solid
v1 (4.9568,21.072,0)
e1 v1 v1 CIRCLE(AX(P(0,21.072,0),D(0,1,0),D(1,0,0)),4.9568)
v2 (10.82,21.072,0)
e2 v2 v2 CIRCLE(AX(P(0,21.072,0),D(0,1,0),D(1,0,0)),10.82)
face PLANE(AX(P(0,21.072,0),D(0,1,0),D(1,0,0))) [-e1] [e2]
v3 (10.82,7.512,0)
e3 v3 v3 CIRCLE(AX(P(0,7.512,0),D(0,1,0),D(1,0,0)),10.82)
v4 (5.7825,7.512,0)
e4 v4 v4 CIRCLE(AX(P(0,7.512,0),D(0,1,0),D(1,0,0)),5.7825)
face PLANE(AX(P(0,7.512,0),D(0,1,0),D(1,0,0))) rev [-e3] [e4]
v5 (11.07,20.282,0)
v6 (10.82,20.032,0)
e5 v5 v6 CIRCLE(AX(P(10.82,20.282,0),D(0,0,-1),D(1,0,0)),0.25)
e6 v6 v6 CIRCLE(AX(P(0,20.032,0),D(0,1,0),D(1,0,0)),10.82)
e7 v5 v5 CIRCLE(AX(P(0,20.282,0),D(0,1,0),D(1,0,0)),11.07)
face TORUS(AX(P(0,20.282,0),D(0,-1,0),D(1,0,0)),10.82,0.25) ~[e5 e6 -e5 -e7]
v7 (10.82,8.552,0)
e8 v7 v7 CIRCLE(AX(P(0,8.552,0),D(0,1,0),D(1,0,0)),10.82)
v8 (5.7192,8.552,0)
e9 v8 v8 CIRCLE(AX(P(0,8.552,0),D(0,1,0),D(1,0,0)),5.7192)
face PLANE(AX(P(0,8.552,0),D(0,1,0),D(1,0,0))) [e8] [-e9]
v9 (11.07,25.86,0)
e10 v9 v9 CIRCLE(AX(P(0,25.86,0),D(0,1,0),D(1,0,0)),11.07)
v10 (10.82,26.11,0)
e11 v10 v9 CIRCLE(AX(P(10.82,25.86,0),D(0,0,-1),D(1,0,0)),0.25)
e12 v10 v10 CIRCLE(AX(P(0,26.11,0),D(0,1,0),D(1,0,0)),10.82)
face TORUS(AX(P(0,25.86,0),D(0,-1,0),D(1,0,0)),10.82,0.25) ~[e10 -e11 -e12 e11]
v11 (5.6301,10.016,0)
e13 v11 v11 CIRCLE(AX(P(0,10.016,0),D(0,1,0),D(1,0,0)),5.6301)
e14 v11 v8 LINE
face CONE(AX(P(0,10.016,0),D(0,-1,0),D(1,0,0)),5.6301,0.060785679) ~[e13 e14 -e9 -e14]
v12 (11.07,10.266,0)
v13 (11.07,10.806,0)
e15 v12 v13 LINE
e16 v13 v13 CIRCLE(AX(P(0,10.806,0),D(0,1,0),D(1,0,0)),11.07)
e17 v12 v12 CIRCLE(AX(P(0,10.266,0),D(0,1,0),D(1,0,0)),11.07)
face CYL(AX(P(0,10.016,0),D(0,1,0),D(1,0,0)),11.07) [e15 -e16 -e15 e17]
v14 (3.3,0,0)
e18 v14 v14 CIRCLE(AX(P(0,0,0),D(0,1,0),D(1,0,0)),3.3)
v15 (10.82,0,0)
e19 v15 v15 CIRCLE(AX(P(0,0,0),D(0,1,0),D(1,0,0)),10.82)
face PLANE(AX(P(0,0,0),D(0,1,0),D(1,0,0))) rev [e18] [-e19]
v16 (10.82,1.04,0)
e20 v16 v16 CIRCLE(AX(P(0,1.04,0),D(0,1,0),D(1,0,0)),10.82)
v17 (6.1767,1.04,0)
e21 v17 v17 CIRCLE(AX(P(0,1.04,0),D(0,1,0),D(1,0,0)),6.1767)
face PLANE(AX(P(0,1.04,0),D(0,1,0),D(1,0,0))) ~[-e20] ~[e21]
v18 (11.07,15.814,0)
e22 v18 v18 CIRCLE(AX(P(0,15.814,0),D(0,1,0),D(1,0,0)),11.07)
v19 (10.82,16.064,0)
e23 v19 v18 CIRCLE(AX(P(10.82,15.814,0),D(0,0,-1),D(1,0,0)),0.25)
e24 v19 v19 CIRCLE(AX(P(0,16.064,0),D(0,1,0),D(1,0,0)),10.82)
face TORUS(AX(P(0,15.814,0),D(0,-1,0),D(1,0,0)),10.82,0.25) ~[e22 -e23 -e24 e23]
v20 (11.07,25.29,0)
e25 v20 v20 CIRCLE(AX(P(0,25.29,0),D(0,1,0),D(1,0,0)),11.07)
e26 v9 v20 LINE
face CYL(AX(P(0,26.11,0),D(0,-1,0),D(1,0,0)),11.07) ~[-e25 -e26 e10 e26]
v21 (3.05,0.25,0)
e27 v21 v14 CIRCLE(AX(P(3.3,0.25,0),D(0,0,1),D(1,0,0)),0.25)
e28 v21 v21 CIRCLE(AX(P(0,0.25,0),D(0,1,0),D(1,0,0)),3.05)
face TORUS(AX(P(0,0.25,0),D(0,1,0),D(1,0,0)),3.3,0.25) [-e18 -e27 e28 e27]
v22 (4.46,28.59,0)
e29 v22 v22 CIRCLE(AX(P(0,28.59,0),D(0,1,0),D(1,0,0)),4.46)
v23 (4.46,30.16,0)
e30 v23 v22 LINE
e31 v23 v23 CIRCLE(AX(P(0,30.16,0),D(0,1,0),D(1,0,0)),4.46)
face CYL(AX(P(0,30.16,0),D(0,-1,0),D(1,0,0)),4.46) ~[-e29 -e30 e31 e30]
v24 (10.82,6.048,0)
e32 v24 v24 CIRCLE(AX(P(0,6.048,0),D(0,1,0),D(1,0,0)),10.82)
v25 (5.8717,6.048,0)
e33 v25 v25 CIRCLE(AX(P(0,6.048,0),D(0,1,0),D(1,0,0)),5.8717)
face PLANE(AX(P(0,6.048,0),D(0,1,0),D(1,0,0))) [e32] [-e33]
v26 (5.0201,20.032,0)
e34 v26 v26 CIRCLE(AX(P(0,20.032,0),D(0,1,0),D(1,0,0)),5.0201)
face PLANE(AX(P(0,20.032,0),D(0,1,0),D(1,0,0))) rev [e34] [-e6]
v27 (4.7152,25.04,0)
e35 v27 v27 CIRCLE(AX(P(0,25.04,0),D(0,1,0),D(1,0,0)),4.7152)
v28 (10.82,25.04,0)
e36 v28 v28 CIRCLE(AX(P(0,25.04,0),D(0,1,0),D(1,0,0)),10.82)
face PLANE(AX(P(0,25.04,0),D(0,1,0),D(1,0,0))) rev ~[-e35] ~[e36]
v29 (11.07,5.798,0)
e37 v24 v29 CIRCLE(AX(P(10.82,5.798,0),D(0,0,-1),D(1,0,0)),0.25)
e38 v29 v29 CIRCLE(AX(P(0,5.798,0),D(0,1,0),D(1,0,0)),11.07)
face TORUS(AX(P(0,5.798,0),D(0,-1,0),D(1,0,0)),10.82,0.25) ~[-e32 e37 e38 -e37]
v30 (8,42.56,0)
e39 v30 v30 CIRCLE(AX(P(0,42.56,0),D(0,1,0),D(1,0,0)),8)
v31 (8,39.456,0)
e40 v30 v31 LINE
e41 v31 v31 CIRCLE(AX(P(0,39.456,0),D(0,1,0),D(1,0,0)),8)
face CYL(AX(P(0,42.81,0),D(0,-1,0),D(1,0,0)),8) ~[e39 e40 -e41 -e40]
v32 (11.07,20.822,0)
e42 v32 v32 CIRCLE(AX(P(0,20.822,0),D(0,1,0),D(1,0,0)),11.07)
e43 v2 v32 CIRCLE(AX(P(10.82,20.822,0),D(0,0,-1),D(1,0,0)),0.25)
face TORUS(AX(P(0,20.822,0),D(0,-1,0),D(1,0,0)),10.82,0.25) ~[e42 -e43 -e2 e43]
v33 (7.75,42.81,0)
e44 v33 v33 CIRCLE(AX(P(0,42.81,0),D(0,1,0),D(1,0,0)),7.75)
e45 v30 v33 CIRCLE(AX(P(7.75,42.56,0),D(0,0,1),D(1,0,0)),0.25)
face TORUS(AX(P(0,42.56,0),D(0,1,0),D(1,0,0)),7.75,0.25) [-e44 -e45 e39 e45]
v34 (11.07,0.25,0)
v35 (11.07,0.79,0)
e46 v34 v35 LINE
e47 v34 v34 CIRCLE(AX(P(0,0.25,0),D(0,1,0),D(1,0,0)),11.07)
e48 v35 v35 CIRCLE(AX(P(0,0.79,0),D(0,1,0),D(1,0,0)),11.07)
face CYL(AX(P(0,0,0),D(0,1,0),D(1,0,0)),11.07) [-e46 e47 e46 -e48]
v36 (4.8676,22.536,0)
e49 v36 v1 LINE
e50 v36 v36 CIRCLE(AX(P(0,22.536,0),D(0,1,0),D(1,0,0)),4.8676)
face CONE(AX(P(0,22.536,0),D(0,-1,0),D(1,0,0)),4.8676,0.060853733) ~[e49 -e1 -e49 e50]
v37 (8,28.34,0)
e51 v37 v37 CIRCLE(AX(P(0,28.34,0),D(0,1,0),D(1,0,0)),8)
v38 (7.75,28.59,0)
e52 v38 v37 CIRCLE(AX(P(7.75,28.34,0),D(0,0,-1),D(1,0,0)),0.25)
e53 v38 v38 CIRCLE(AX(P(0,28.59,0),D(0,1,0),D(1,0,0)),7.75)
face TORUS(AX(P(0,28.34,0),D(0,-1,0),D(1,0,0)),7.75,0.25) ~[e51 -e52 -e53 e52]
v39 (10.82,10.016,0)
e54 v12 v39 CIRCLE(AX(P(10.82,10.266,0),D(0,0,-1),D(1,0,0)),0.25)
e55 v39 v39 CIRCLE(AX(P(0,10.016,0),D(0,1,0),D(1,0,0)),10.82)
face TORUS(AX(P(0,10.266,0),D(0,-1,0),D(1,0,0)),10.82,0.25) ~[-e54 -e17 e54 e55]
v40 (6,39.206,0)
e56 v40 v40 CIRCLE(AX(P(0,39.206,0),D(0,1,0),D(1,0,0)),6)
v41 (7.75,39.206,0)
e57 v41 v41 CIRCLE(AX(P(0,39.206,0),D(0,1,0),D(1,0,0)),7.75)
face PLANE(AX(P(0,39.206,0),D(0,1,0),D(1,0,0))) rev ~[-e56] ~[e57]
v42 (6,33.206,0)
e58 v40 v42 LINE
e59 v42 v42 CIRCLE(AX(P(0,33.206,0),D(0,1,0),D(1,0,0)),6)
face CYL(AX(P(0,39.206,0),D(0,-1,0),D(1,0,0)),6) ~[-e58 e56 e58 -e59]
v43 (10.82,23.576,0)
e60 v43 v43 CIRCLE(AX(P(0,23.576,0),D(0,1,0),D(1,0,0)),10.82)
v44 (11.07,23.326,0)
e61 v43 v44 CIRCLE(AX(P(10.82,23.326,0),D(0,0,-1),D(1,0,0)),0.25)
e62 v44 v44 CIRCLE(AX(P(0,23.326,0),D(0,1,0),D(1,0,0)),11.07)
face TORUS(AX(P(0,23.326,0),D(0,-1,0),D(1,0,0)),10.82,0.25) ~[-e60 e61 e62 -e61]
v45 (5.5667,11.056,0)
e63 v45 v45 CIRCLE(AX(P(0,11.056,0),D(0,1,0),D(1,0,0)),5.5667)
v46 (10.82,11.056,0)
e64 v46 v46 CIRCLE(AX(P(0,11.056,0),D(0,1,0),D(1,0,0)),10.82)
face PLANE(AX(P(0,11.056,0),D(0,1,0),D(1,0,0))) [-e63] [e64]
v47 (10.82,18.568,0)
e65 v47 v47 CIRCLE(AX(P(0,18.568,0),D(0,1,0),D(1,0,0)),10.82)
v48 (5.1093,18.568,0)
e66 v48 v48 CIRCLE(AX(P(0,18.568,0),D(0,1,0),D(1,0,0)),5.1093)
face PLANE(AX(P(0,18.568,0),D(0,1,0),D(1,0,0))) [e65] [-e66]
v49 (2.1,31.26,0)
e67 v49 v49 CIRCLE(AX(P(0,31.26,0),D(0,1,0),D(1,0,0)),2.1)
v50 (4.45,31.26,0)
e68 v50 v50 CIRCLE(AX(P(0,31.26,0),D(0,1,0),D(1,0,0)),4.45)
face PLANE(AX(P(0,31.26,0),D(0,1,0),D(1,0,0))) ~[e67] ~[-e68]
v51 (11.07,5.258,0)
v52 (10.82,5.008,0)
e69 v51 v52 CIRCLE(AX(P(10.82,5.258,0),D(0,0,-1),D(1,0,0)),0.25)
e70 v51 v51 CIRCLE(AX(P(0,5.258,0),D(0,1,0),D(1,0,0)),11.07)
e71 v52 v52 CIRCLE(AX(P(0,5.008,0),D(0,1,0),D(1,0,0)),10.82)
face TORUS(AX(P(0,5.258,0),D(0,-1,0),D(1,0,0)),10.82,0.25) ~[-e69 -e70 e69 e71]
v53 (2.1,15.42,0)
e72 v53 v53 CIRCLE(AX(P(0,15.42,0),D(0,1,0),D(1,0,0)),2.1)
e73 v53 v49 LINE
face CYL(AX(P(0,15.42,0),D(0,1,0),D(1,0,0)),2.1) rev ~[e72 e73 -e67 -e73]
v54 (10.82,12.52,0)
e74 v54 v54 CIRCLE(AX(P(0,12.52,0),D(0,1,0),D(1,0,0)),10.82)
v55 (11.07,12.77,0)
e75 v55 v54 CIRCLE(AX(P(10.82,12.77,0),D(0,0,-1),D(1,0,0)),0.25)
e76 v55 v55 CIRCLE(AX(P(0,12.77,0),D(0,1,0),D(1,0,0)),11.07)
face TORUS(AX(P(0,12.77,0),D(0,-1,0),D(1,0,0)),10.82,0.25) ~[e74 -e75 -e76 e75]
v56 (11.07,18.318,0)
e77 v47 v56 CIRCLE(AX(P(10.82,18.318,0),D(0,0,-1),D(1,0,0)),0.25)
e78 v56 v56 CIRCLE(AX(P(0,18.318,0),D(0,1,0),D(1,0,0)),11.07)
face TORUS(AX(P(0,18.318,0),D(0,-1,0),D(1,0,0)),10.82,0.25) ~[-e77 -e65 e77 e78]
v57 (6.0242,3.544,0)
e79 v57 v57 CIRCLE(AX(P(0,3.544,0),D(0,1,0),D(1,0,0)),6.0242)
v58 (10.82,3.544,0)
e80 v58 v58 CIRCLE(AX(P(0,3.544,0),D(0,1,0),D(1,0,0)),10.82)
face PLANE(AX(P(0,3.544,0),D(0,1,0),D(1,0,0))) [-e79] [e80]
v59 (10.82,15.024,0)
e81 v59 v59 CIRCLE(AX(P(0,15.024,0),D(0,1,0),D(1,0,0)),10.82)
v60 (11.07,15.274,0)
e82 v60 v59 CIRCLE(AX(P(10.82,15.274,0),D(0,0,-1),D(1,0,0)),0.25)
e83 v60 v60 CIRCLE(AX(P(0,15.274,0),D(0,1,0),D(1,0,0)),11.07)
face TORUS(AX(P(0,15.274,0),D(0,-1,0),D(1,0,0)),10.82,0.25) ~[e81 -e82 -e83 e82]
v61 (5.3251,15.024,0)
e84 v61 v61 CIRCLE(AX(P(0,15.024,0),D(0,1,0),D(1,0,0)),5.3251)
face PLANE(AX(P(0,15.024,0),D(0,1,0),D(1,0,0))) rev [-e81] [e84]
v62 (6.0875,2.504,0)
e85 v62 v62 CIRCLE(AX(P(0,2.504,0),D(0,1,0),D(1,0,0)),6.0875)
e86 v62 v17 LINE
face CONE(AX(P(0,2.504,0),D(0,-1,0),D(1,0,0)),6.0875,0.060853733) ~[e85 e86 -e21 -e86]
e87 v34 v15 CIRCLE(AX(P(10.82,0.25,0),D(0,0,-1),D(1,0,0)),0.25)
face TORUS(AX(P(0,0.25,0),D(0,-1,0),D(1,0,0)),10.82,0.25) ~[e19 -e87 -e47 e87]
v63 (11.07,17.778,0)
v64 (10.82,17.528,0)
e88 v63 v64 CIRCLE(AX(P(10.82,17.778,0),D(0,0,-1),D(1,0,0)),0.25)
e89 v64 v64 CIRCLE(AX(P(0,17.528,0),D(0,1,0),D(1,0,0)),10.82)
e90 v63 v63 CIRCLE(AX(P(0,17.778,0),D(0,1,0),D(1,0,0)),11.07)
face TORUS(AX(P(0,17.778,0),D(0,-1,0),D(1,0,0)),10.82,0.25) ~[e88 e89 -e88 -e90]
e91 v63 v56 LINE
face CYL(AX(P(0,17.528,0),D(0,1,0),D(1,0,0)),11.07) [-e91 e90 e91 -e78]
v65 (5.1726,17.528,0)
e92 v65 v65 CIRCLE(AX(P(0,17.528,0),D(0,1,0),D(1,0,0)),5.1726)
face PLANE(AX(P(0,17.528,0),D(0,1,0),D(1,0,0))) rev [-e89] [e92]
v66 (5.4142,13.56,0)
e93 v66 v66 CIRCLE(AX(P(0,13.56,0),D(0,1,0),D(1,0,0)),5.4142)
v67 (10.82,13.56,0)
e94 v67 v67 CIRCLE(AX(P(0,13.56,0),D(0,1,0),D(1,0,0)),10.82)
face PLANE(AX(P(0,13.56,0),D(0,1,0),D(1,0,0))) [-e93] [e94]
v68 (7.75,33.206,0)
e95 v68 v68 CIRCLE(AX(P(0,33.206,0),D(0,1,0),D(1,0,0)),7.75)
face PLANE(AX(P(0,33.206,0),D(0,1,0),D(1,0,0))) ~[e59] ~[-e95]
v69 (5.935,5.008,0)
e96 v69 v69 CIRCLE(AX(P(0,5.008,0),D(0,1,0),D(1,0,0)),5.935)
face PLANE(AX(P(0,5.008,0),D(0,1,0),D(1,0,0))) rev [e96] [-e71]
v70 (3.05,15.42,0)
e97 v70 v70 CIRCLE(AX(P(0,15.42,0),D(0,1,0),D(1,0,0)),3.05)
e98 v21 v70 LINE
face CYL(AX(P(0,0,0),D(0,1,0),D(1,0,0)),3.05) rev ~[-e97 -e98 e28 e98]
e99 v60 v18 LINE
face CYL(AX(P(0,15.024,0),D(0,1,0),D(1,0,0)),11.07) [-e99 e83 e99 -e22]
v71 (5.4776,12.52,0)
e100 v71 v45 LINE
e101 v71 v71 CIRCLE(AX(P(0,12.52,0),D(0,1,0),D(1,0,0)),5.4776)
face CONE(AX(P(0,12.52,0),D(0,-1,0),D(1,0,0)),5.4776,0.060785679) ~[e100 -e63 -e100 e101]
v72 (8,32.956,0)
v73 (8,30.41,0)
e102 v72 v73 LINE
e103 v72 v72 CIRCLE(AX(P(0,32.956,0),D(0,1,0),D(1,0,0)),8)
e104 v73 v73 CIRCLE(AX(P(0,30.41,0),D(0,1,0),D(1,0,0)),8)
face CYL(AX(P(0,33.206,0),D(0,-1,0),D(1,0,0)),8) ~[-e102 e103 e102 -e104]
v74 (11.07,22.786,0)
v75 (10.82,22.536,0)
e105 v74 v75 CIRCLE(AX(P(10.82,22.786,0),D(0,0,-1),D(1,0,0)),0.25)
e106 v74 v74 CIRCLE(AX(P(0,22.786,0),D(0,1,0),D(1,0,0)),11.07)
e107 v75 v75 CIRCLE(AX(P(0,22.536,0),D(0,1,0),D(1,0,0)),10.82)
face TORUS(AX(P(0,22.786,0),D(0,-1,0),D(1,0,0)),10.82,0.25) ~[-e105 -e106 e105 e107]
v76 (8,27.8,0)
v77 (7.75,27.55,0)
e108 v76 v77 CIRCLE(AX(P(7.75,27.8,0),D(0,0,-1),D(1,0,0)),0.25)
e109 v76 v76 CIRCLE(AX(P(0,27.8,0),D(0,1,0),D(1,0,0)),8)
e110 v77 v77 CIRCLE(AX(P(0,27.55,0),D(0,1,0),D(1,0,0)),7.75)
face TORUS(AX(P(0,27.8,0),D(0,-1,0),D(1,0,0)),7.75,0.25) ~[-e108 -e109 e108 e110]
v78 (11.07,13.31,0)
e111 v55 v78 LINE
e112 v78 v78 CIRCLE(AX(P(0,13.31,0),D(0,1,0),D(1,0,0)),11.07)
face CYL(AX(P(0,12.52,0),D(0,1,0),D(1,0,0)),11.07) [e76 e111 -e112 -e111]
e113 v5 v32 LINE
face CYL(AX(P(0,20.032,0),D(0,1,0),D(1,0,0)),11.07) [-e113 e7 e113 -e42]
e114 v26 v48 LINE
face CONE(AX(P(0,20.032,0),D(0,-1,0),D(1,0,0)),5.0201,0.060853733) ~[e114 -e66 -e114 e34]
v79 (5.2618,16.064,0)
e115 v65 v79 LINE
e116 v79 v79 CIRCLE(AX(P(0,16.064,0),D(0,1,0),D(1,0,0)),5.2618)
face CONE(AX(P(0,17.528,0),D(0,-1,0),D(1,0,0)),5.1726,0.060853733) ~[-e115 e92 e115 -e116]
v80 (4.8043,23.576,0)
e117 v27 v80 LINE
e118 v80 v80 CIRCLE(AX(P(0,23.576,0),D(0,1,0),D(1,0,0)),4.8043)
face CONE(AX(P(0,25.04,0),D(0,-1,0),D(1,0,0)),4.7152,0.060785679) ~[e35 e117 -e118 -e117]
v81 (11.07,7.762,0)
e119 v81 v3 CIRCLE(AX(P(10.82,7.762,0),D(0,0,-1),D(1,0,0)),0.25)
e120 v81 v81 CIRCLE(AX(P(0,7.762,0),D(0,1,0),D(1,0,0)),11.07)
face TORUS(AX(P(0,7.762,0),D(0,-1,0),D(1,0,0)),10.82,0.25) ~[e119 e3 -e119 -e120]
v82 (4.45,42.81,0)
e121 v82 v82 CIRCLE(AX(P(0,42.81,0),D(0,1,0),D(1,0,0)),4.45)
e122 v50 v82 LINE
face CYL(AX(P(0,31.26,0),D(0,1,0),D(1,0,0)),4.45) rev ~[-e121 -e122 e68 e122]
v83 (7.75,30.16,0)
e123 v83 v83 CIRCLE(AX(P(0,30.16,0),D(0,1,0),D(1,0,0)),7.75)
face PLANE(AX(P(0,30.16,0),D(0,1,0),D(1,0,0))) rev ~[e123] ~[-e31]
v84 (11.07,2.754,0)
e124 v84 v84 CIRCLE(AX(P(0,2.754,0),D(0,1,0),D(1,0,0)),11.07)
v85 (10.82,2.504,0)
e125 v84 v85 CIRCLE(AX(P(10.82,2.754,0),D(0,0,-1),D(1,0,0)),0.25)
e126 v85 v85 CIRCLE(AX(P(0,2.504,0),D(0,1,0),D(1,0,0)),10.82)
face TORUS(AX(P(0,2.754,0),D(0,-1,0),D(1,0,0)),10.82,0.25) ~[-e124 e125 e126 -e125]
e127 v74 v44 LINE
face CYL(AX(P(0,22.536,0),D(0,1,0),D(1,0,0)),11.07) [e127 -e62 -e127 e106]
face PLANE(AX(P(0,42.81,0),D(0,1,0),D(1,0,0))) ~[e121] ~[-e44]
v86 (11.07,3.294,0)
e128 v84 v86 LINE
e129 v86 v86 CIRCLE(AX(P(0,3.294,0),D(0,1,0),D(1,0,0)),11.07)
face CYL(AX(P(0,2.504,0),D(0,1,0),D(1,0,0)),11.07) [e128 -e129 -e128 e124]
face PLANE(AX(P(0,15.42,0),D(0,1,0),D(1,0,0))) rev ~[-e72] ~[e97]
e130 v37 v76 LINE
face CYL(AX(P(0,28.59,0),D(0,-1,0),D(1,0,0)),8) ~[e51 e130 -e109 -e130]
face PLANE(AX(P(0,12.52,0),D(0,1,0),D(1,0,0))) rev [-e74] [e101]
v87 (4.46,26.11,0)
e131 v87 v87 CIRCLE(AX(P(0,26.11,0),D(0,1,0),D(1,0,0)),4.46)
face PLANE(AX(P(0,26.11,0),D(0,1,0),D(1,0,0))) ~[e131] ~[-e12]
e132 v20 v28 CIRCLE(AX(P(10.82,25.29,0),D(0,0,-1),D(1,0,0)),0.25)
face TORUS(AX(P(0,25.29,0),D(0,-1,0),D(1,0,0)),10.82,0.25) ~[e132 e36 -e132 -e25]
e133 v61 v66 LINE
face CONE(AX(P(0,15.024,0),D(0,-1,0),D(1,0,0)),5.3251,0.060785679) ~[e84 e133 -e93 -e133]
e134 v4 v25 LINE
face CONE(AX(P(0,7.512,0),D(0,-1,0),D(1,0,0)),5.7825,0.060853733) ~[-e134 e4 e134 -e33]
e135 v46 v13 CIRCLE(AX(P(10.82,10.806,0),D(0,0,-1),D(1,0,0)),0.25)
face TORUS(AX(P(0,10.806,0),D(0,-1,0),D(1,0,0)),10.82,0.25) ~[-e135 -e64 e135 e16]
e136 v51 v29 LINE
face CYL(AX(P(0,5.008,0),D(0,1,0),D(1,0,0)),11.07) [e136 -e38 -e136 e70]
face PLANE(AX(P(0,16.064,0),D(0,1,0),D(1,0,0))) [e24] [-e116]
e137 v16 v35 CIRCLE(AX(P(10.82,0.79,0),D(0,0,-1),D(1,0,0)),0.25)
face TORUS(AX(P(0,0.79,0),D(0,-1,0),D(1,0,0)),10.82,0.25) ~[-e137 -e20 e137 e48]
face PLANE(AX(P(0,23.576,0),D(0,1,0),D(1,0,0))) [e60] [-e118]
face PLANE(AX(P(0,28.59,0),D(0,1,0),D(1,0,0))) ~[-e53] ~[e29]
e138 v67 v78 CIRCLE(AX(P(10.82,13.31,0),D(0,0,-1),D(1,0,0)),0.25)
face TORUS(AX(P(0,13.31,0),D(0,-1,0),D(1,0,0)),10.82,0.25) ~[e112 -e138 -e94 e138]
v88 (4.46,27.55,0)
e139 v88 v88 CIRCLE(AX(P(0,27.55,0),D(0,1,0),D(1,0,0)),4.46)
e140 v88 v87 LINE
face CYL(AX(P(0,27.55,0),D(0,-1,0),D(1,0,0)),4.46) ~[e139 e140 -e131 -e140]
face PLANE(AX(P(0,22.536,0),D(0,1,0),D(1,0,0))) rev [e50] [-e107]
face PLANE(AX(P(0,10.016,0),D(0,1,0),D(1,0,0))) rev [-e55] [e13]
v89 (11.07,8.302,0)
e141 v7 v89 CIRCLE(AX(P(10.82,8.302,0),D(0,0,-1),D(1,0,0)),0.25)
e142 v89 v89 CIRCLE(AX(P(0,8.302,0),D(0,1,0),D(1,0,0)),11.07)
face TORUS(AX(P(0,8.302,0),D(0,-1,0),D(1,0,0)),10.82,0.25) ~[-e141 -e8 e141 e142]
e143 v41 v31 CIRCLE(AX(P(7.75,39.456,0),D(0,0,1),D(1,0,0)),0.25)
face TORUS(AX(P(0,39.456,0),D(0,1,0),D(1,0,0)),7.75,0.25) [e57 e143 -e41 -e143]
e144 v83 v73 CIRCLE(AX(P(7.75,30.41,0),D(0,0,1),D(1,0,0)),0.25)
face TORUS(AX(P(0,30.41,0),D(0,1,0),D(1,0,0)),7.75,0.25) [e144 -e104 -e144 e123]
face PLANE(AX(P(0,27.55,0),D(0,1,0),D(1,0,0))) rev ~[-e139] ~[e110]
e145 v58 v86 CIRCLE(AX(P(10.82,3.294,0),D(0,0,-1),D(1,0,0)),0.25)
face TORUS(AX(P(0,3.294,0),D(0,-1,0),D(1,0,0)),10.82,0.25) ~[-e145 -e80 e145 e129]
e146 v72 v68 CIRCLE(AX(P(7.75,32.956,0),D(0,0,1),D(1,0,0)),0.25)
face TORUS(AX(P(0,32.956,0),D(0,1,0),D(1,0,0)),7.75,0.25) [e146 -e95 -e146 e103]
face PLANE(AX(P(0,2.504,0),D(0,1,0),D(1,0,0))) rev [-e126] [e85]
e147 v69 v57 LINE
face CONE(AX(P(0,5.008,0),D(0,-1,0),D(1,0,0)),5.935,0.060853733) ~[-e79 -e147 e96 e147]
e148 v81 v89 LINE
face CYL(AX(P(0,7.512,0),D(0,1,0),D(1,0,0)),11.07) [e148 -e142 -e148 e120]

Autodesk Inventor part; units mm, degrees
ref_plane "YZ Plane" through (0, 0, 0) normal (1, 0, 0) x (0, 1, 0)
ref_plane "XZ Plane" through (0, 0, 0) normal (0, 1, 0) x (-1, 0, 0)
ref_plane "XY Plane" through (0, 0, 0) normal (0, 0, 1) x (1, 0, 0)
sketch "Sketch1" plane through (0, 0, 0) normal (0, 0, 1) x (1, 0, 0)
  line L0 (0, 0) -> (11.07, 0) construction
  line L1 (11.07, 0) -> (11.07, 26.11) construction
  line L2 (11.07, 26.11) -> (0, 26.11) construction
  line L3 (0, 26.11) -> (0, 0) construction
  line L4 (0, 26.11) -> (8, 26.11) construction
  line L5 (8, 26.11) -> (8, 42.81) construction
  line L6 (8, 42.81) -> (0, 42.81) construction
  line L7 (0, 42.81) -> (0, 26.11) construction
  line L8 (8, 42.81) -> (0, 42.81) construction
  line L9 (0, 42.81) -> (0, 30.16) construction
  line L10 (0, 30.16) -> (8, 30.16) construction
  line L11 (8, 30.16) -> (8, 42.81) construction
  line L12 (0, 42.81) -> (8, 42.81) construction
  line L13 (8, 42.81) -> (8, 39.206) construction
  line L14 (8, 39.206) -> (0, 39.206) construction
  line L15 (0, 39.206) -> (0, 42.81) construction
  line L16 (0, 39.206) -> (8, 39.206) construction
  line L17 (8, 39.206) -> (8, 33.206) construction
  line L18 (8, 33.206) -> (0, 33.206) construction
  line L19 (0, 33.206) -> (0, 39.206) construction
  line L20 (0, 39.206) -> (6, 39.206) construction
  line L21 (6, 39.206) -> (6, 33.206) construction
  line L22 (6, 33.206) -> (0, 33.206) construction
  line L23 (0, 33.206) -> (0, 39.206) construction
  line L24 (0, 30.16) -> (8, 30.16) construction
  line L25 (8, 30.16) -> (8, 28.59) construction
  line L26 (8, 28.59) -> (0, 28.59) construction
  line L27 (0, 28.59) -> (0, 30.16) construction
  line L28 (0, 28.59) -> (8, 28.59) construction
  line L29 (8, 28.59) -> (8, 27.55) construction
  line L30 (8, 27.55) -> (0, 27.55) construction
  line L31 (0, 27.55) -> (0, 28.59) construction
  line L32 (0, 42.81) -> (4.45, 42.81) construction
  line L33 (4.45, 42.81) -> (4.45, 31.26) construction
  line L34 (4.45, 31.26) -> (0, 31.26) construction
  line L35 (0, 31.26) -> (0, 42.81) construction
  line L36 (0, 0) -> (6.1, 0) construction
  line L37 (6.1, 0) -> (6.1, 15.42) construction
  line L38 (6.1, 15.42) -> (0, 15.42) construction
  line L39 (0, 15.42) -> (0, 0) construction
  line L40 (0, 31.26) -> (2.1, 31.26) construction
  line L41 (2.1, 31.26) -> (2.1, 15.42) construction
  line L42 (2.1, 15.42) -> (0, 15.42) construction
  line L43 (0, 15.42) -> (0, 31.26) construction
  line L44 (0, 15.42) -> (3.05, 15.42) construction
  line L45 (3.05, 15.42) -> (3.05, 0) construction
  line L46 (3.05, 0) -> (0, 0) construction
  line L47 (0, 0) -> (0, 15.42) construction
  line L48 (3.05, 0) -> (3.05, 15.42)
  line L49 (3.05, 15.42) -> (2.1, 15.42)
  line L50 (2.1, 15.42) -> (2.1, 31.26)
  line L51 (2.1, 31.26) -> (4.45, 31.26)
  line L52 (4.45, 31.26) -> (4.45, 42.81)
  line L53 (4.45, 42.81) -> (8, 42.81)
  line L54 (8, 42.81) -> (8, 39.206)
  line L55 (8, 39.206) -> (6, 39.206)
  line L56 (6, 39.206) -> (6, 33.206)
  line L57 (6, 33.206) -> (8, 33.206)
  line L58 (8, 33.206) -> (8, 30.16)
  line L59 (8, 30.16) -> (4.46, 30.16) construction
  line L60 (4.46, 30.16) -> (4.46, 26.11) construction
  line L61 (4.46, 26.11) -> (8, 26.11) construction
  line L62 (8, 26.11) -> (8, 30.16) construction
  line L63 (8, 30.16) -> (4.46, 30.16) construction
  line L64 (8, 30.16) -> (4.46, 30.16)
  line L65 (4.46, 30.16) -> (4.46, 28.59)
  line L66 (4.46, 28.59) -> (8, 28.59)
  line L67 (8, 28.59) -> (8, 27.55)
  line L68 (8, 27.55) -> (4.46, 27.55)
  line L69 (4.46, 27.55) -> (4.46, 26.11)
  line L70 (4.46, 26.11) -> (11.07, 26.11)
  line L71 (3.05, 0) -> (11.07, 0)
  line L72 (11.07, 26.11) -> (4.65, 26.11) construction
  line L73 (11.07, 0) -> (6.24, 0) construction
  line L74 (6.24, 0) -> (4.65, 26.11) construction
  line L75 (11.07, 26.11) -> (2.1, 26.11) construction
  line L76 (2.1, 26.11) -> (2.1, 25.04) construction
  line L77 (2.1, 25.04) -> (11.07, 25.04) construction
  line L78 (11.07, 25.04) -> (11.07, 26.11) construction
  line L79 (3.05, 0) -> (11.07, 0) construction
  line L80 (11.07, 0) -> (11.07, 2.504) construction
  line L81 (11.07, 2.504) -> (3.05, 2.504) construction
  line L82 (3.05, 2.504) -> (3.05, 0) construction
  line L83 (11.07, 0) -> (3.05, 0) construction
  line L84 (3.05, 0) -> (3.05, 1.04) construction
  line L85 (3.05, 1.04) -> (11.07, 1.04) construction
  line L86 (11.07, 1.04) -> (11.07, 0) construction
  line L87 (11.07, 0) -> (11.07, 1.04)
  line L88 (11.07, 2.504) -> (11.07, 3.544)
  line L89 (11.07, 5.008) -> (11.07, 6.048)
  line L90 (11.07, 7.512) -> (11.07, 8.552)
  line L91 (11.07, 10.016) -> (11.07, 11.056)
  line L92 (11.07, 12.52) -> (11.07, 13.56)
  line L93 (11.07, 15.024) -> (11.07, 16.064)
  line L94 (11.07, 17.528) -> (11.07, 18.568)
  line L95 (11.07, 20.032) -> (11.07, 21.072)
  line L96 (11.07, 22.536) -> (11.07, 23.576)
  line L97 (11.07, 26.11) -> (11.07, 25.04)
  line L98 (11.07, 25.04) -> (4.7152, 25.04)
  line L99 (4.7152, 25.04) -> (4.8043, 23.576)
  line L100 (4.8676, 22.536) -> (4.9568, 21.072)
  line L101 (5.0201, 20.032) -> (5.1093, 18.568)
  line L102 (5.1726, 17.528) -> (5.2618, 16.064)
  line L103 (5.3251, 15.024) -> (5.4142, 13.56)
  line L104 (5.4776, 12.52) -> (5.5667, 11.056)
  line L105 (5.6301, 10.016) -> (5.7192, 8.552)
  line L106 (5.7825, 7.512) -> (5.8717, 6.048)
  line L107 (5.935, 5.008) -> (6.0242, 3.544)
  line L108 (6.0875, 2.504) -> (6.1767, 1.04)
  line L109 (6.1767, 1.04) -> (11.07, 1.04)
  line L110 (6.0875, 2.504) -> (11.07, 2.504)
  line L111 (11.07, 3.544) -> (6.0242, 3.544)
  line L112 (5.935, 5.008) -> (11.07, 5.008)
  line L113 (11.07, 6.048) -> (5.8717, 6.048)
  line L114 (5.7825, 7.512) -> (11.07, 7.512)
  line L115 (11.07, 8.552) -> (5.7192, 8.552)
  line L116 (5.6301, 10.016) -> (11.07, 10.016)
  line L117 (11.07, 11.056) -> (5.5667, 11.056)
  line L118 (5.4776, 12.52) -> (11.07, 12.52)
  line L119 (11.07, 13.56) -> (5.4142, 13.56)
  line L120 (5.3251, 15.024) -> (11.07, 15.024)
  line L121 (11.07, 16.064) -> (5.2618, 16.064)
  line L122 (5.1726, 17.528) -> (11.07, 17.528)
  line L123 (11.07, 18.568) -> (5.1093, 18.568)
  line L124 (5.0201, 20.032) -> (11.07, 20.032)
  line L125 (11.07, 21.072) -> (4.9568, 21.072)
  line L126 (4.8676, 22.536) -> (11.07, 22.536)
  line L127 (11.07, 23.576) -> (4.8043, 23.576)
  dimension "d9" = 11.07
  dimension "d10" = 26.11
  dimension "d11" = 8
  dimension "d12" = 16.7
  dimension "d13" = 8
  dimension "d14" = 12.65
  dimension "d15" = 6
  dimension "d16" = 6
  dimension "d17" = 1.57
  dimension "d18" = 8
  dimension "d19" = 1.04
  dimension "d20" = 4.45
  dimension "d21" = 11.55
  dimension "d22" = 6.1
  dimension "d23" = 15.42
  dimension "d24" = 2.1
  dimension "d25" = 3.05
  dimension "d26" = 3.54
  dimension "d27" = 6.42
  dimension "d28" = 4.83
  dimension "d29" = 1.07
  dimension "d30" = 2.504
  dimension "d31" = 1.04
  dimension "d34" = 2.504
revolve "Revolution1" add sketch "Sketch1" angle 360 about axis through (0, 33.206, 0) along (0, 1, 0)
fillet "Fillet1" radius 0.25 24 edges at (-11.07, 26.11, 0) (-11.07, 25.04, 0) (-11.07, 23.576, 0) (-11.07, 22.536, 0) (-8, 27.55, 0) (-8, 28.59, 0) (-11.07, 21.072, 0) (-11.07, 20.032, 0) (-11.07, 18.568, 0) (-11.07, 17.528, 0) (-11.07, 16.064, 0) (-11.07, 15.024, 0) (-11.07, 13.56, 0) (-11.07, 12.52, 0) (-11.07, 11.056, 0) (-11.07, 10.016, 0) (-11.07, 8.552, 0) (-11.07, 7.512, 0) (-11.07, 6.048, 0) (-11.07, 5.008, 0) (-11.07, 3.544, 0) (-11.07, 2.504, 0) (-11.07, 1.04, 0) (-11.07, 0, 0)
fillet "Fillet2" radius 0.25 5 edges at (-8, 42.81, 0) (-8, 39.206, 0) (-8, 33.206, 0) (-8, 30.16, 0) (-3.05, 0, 0)
thread "Thread1" size "M7x1" class "6H" standard "ANSI Metric M Profile" full length
thread "Thread2" size "M9x1.25" class "6H" standard "ANSI Metric M Profile" full length
properties part number "v6-hotend-heatsink" material "Aluminum 6061"
